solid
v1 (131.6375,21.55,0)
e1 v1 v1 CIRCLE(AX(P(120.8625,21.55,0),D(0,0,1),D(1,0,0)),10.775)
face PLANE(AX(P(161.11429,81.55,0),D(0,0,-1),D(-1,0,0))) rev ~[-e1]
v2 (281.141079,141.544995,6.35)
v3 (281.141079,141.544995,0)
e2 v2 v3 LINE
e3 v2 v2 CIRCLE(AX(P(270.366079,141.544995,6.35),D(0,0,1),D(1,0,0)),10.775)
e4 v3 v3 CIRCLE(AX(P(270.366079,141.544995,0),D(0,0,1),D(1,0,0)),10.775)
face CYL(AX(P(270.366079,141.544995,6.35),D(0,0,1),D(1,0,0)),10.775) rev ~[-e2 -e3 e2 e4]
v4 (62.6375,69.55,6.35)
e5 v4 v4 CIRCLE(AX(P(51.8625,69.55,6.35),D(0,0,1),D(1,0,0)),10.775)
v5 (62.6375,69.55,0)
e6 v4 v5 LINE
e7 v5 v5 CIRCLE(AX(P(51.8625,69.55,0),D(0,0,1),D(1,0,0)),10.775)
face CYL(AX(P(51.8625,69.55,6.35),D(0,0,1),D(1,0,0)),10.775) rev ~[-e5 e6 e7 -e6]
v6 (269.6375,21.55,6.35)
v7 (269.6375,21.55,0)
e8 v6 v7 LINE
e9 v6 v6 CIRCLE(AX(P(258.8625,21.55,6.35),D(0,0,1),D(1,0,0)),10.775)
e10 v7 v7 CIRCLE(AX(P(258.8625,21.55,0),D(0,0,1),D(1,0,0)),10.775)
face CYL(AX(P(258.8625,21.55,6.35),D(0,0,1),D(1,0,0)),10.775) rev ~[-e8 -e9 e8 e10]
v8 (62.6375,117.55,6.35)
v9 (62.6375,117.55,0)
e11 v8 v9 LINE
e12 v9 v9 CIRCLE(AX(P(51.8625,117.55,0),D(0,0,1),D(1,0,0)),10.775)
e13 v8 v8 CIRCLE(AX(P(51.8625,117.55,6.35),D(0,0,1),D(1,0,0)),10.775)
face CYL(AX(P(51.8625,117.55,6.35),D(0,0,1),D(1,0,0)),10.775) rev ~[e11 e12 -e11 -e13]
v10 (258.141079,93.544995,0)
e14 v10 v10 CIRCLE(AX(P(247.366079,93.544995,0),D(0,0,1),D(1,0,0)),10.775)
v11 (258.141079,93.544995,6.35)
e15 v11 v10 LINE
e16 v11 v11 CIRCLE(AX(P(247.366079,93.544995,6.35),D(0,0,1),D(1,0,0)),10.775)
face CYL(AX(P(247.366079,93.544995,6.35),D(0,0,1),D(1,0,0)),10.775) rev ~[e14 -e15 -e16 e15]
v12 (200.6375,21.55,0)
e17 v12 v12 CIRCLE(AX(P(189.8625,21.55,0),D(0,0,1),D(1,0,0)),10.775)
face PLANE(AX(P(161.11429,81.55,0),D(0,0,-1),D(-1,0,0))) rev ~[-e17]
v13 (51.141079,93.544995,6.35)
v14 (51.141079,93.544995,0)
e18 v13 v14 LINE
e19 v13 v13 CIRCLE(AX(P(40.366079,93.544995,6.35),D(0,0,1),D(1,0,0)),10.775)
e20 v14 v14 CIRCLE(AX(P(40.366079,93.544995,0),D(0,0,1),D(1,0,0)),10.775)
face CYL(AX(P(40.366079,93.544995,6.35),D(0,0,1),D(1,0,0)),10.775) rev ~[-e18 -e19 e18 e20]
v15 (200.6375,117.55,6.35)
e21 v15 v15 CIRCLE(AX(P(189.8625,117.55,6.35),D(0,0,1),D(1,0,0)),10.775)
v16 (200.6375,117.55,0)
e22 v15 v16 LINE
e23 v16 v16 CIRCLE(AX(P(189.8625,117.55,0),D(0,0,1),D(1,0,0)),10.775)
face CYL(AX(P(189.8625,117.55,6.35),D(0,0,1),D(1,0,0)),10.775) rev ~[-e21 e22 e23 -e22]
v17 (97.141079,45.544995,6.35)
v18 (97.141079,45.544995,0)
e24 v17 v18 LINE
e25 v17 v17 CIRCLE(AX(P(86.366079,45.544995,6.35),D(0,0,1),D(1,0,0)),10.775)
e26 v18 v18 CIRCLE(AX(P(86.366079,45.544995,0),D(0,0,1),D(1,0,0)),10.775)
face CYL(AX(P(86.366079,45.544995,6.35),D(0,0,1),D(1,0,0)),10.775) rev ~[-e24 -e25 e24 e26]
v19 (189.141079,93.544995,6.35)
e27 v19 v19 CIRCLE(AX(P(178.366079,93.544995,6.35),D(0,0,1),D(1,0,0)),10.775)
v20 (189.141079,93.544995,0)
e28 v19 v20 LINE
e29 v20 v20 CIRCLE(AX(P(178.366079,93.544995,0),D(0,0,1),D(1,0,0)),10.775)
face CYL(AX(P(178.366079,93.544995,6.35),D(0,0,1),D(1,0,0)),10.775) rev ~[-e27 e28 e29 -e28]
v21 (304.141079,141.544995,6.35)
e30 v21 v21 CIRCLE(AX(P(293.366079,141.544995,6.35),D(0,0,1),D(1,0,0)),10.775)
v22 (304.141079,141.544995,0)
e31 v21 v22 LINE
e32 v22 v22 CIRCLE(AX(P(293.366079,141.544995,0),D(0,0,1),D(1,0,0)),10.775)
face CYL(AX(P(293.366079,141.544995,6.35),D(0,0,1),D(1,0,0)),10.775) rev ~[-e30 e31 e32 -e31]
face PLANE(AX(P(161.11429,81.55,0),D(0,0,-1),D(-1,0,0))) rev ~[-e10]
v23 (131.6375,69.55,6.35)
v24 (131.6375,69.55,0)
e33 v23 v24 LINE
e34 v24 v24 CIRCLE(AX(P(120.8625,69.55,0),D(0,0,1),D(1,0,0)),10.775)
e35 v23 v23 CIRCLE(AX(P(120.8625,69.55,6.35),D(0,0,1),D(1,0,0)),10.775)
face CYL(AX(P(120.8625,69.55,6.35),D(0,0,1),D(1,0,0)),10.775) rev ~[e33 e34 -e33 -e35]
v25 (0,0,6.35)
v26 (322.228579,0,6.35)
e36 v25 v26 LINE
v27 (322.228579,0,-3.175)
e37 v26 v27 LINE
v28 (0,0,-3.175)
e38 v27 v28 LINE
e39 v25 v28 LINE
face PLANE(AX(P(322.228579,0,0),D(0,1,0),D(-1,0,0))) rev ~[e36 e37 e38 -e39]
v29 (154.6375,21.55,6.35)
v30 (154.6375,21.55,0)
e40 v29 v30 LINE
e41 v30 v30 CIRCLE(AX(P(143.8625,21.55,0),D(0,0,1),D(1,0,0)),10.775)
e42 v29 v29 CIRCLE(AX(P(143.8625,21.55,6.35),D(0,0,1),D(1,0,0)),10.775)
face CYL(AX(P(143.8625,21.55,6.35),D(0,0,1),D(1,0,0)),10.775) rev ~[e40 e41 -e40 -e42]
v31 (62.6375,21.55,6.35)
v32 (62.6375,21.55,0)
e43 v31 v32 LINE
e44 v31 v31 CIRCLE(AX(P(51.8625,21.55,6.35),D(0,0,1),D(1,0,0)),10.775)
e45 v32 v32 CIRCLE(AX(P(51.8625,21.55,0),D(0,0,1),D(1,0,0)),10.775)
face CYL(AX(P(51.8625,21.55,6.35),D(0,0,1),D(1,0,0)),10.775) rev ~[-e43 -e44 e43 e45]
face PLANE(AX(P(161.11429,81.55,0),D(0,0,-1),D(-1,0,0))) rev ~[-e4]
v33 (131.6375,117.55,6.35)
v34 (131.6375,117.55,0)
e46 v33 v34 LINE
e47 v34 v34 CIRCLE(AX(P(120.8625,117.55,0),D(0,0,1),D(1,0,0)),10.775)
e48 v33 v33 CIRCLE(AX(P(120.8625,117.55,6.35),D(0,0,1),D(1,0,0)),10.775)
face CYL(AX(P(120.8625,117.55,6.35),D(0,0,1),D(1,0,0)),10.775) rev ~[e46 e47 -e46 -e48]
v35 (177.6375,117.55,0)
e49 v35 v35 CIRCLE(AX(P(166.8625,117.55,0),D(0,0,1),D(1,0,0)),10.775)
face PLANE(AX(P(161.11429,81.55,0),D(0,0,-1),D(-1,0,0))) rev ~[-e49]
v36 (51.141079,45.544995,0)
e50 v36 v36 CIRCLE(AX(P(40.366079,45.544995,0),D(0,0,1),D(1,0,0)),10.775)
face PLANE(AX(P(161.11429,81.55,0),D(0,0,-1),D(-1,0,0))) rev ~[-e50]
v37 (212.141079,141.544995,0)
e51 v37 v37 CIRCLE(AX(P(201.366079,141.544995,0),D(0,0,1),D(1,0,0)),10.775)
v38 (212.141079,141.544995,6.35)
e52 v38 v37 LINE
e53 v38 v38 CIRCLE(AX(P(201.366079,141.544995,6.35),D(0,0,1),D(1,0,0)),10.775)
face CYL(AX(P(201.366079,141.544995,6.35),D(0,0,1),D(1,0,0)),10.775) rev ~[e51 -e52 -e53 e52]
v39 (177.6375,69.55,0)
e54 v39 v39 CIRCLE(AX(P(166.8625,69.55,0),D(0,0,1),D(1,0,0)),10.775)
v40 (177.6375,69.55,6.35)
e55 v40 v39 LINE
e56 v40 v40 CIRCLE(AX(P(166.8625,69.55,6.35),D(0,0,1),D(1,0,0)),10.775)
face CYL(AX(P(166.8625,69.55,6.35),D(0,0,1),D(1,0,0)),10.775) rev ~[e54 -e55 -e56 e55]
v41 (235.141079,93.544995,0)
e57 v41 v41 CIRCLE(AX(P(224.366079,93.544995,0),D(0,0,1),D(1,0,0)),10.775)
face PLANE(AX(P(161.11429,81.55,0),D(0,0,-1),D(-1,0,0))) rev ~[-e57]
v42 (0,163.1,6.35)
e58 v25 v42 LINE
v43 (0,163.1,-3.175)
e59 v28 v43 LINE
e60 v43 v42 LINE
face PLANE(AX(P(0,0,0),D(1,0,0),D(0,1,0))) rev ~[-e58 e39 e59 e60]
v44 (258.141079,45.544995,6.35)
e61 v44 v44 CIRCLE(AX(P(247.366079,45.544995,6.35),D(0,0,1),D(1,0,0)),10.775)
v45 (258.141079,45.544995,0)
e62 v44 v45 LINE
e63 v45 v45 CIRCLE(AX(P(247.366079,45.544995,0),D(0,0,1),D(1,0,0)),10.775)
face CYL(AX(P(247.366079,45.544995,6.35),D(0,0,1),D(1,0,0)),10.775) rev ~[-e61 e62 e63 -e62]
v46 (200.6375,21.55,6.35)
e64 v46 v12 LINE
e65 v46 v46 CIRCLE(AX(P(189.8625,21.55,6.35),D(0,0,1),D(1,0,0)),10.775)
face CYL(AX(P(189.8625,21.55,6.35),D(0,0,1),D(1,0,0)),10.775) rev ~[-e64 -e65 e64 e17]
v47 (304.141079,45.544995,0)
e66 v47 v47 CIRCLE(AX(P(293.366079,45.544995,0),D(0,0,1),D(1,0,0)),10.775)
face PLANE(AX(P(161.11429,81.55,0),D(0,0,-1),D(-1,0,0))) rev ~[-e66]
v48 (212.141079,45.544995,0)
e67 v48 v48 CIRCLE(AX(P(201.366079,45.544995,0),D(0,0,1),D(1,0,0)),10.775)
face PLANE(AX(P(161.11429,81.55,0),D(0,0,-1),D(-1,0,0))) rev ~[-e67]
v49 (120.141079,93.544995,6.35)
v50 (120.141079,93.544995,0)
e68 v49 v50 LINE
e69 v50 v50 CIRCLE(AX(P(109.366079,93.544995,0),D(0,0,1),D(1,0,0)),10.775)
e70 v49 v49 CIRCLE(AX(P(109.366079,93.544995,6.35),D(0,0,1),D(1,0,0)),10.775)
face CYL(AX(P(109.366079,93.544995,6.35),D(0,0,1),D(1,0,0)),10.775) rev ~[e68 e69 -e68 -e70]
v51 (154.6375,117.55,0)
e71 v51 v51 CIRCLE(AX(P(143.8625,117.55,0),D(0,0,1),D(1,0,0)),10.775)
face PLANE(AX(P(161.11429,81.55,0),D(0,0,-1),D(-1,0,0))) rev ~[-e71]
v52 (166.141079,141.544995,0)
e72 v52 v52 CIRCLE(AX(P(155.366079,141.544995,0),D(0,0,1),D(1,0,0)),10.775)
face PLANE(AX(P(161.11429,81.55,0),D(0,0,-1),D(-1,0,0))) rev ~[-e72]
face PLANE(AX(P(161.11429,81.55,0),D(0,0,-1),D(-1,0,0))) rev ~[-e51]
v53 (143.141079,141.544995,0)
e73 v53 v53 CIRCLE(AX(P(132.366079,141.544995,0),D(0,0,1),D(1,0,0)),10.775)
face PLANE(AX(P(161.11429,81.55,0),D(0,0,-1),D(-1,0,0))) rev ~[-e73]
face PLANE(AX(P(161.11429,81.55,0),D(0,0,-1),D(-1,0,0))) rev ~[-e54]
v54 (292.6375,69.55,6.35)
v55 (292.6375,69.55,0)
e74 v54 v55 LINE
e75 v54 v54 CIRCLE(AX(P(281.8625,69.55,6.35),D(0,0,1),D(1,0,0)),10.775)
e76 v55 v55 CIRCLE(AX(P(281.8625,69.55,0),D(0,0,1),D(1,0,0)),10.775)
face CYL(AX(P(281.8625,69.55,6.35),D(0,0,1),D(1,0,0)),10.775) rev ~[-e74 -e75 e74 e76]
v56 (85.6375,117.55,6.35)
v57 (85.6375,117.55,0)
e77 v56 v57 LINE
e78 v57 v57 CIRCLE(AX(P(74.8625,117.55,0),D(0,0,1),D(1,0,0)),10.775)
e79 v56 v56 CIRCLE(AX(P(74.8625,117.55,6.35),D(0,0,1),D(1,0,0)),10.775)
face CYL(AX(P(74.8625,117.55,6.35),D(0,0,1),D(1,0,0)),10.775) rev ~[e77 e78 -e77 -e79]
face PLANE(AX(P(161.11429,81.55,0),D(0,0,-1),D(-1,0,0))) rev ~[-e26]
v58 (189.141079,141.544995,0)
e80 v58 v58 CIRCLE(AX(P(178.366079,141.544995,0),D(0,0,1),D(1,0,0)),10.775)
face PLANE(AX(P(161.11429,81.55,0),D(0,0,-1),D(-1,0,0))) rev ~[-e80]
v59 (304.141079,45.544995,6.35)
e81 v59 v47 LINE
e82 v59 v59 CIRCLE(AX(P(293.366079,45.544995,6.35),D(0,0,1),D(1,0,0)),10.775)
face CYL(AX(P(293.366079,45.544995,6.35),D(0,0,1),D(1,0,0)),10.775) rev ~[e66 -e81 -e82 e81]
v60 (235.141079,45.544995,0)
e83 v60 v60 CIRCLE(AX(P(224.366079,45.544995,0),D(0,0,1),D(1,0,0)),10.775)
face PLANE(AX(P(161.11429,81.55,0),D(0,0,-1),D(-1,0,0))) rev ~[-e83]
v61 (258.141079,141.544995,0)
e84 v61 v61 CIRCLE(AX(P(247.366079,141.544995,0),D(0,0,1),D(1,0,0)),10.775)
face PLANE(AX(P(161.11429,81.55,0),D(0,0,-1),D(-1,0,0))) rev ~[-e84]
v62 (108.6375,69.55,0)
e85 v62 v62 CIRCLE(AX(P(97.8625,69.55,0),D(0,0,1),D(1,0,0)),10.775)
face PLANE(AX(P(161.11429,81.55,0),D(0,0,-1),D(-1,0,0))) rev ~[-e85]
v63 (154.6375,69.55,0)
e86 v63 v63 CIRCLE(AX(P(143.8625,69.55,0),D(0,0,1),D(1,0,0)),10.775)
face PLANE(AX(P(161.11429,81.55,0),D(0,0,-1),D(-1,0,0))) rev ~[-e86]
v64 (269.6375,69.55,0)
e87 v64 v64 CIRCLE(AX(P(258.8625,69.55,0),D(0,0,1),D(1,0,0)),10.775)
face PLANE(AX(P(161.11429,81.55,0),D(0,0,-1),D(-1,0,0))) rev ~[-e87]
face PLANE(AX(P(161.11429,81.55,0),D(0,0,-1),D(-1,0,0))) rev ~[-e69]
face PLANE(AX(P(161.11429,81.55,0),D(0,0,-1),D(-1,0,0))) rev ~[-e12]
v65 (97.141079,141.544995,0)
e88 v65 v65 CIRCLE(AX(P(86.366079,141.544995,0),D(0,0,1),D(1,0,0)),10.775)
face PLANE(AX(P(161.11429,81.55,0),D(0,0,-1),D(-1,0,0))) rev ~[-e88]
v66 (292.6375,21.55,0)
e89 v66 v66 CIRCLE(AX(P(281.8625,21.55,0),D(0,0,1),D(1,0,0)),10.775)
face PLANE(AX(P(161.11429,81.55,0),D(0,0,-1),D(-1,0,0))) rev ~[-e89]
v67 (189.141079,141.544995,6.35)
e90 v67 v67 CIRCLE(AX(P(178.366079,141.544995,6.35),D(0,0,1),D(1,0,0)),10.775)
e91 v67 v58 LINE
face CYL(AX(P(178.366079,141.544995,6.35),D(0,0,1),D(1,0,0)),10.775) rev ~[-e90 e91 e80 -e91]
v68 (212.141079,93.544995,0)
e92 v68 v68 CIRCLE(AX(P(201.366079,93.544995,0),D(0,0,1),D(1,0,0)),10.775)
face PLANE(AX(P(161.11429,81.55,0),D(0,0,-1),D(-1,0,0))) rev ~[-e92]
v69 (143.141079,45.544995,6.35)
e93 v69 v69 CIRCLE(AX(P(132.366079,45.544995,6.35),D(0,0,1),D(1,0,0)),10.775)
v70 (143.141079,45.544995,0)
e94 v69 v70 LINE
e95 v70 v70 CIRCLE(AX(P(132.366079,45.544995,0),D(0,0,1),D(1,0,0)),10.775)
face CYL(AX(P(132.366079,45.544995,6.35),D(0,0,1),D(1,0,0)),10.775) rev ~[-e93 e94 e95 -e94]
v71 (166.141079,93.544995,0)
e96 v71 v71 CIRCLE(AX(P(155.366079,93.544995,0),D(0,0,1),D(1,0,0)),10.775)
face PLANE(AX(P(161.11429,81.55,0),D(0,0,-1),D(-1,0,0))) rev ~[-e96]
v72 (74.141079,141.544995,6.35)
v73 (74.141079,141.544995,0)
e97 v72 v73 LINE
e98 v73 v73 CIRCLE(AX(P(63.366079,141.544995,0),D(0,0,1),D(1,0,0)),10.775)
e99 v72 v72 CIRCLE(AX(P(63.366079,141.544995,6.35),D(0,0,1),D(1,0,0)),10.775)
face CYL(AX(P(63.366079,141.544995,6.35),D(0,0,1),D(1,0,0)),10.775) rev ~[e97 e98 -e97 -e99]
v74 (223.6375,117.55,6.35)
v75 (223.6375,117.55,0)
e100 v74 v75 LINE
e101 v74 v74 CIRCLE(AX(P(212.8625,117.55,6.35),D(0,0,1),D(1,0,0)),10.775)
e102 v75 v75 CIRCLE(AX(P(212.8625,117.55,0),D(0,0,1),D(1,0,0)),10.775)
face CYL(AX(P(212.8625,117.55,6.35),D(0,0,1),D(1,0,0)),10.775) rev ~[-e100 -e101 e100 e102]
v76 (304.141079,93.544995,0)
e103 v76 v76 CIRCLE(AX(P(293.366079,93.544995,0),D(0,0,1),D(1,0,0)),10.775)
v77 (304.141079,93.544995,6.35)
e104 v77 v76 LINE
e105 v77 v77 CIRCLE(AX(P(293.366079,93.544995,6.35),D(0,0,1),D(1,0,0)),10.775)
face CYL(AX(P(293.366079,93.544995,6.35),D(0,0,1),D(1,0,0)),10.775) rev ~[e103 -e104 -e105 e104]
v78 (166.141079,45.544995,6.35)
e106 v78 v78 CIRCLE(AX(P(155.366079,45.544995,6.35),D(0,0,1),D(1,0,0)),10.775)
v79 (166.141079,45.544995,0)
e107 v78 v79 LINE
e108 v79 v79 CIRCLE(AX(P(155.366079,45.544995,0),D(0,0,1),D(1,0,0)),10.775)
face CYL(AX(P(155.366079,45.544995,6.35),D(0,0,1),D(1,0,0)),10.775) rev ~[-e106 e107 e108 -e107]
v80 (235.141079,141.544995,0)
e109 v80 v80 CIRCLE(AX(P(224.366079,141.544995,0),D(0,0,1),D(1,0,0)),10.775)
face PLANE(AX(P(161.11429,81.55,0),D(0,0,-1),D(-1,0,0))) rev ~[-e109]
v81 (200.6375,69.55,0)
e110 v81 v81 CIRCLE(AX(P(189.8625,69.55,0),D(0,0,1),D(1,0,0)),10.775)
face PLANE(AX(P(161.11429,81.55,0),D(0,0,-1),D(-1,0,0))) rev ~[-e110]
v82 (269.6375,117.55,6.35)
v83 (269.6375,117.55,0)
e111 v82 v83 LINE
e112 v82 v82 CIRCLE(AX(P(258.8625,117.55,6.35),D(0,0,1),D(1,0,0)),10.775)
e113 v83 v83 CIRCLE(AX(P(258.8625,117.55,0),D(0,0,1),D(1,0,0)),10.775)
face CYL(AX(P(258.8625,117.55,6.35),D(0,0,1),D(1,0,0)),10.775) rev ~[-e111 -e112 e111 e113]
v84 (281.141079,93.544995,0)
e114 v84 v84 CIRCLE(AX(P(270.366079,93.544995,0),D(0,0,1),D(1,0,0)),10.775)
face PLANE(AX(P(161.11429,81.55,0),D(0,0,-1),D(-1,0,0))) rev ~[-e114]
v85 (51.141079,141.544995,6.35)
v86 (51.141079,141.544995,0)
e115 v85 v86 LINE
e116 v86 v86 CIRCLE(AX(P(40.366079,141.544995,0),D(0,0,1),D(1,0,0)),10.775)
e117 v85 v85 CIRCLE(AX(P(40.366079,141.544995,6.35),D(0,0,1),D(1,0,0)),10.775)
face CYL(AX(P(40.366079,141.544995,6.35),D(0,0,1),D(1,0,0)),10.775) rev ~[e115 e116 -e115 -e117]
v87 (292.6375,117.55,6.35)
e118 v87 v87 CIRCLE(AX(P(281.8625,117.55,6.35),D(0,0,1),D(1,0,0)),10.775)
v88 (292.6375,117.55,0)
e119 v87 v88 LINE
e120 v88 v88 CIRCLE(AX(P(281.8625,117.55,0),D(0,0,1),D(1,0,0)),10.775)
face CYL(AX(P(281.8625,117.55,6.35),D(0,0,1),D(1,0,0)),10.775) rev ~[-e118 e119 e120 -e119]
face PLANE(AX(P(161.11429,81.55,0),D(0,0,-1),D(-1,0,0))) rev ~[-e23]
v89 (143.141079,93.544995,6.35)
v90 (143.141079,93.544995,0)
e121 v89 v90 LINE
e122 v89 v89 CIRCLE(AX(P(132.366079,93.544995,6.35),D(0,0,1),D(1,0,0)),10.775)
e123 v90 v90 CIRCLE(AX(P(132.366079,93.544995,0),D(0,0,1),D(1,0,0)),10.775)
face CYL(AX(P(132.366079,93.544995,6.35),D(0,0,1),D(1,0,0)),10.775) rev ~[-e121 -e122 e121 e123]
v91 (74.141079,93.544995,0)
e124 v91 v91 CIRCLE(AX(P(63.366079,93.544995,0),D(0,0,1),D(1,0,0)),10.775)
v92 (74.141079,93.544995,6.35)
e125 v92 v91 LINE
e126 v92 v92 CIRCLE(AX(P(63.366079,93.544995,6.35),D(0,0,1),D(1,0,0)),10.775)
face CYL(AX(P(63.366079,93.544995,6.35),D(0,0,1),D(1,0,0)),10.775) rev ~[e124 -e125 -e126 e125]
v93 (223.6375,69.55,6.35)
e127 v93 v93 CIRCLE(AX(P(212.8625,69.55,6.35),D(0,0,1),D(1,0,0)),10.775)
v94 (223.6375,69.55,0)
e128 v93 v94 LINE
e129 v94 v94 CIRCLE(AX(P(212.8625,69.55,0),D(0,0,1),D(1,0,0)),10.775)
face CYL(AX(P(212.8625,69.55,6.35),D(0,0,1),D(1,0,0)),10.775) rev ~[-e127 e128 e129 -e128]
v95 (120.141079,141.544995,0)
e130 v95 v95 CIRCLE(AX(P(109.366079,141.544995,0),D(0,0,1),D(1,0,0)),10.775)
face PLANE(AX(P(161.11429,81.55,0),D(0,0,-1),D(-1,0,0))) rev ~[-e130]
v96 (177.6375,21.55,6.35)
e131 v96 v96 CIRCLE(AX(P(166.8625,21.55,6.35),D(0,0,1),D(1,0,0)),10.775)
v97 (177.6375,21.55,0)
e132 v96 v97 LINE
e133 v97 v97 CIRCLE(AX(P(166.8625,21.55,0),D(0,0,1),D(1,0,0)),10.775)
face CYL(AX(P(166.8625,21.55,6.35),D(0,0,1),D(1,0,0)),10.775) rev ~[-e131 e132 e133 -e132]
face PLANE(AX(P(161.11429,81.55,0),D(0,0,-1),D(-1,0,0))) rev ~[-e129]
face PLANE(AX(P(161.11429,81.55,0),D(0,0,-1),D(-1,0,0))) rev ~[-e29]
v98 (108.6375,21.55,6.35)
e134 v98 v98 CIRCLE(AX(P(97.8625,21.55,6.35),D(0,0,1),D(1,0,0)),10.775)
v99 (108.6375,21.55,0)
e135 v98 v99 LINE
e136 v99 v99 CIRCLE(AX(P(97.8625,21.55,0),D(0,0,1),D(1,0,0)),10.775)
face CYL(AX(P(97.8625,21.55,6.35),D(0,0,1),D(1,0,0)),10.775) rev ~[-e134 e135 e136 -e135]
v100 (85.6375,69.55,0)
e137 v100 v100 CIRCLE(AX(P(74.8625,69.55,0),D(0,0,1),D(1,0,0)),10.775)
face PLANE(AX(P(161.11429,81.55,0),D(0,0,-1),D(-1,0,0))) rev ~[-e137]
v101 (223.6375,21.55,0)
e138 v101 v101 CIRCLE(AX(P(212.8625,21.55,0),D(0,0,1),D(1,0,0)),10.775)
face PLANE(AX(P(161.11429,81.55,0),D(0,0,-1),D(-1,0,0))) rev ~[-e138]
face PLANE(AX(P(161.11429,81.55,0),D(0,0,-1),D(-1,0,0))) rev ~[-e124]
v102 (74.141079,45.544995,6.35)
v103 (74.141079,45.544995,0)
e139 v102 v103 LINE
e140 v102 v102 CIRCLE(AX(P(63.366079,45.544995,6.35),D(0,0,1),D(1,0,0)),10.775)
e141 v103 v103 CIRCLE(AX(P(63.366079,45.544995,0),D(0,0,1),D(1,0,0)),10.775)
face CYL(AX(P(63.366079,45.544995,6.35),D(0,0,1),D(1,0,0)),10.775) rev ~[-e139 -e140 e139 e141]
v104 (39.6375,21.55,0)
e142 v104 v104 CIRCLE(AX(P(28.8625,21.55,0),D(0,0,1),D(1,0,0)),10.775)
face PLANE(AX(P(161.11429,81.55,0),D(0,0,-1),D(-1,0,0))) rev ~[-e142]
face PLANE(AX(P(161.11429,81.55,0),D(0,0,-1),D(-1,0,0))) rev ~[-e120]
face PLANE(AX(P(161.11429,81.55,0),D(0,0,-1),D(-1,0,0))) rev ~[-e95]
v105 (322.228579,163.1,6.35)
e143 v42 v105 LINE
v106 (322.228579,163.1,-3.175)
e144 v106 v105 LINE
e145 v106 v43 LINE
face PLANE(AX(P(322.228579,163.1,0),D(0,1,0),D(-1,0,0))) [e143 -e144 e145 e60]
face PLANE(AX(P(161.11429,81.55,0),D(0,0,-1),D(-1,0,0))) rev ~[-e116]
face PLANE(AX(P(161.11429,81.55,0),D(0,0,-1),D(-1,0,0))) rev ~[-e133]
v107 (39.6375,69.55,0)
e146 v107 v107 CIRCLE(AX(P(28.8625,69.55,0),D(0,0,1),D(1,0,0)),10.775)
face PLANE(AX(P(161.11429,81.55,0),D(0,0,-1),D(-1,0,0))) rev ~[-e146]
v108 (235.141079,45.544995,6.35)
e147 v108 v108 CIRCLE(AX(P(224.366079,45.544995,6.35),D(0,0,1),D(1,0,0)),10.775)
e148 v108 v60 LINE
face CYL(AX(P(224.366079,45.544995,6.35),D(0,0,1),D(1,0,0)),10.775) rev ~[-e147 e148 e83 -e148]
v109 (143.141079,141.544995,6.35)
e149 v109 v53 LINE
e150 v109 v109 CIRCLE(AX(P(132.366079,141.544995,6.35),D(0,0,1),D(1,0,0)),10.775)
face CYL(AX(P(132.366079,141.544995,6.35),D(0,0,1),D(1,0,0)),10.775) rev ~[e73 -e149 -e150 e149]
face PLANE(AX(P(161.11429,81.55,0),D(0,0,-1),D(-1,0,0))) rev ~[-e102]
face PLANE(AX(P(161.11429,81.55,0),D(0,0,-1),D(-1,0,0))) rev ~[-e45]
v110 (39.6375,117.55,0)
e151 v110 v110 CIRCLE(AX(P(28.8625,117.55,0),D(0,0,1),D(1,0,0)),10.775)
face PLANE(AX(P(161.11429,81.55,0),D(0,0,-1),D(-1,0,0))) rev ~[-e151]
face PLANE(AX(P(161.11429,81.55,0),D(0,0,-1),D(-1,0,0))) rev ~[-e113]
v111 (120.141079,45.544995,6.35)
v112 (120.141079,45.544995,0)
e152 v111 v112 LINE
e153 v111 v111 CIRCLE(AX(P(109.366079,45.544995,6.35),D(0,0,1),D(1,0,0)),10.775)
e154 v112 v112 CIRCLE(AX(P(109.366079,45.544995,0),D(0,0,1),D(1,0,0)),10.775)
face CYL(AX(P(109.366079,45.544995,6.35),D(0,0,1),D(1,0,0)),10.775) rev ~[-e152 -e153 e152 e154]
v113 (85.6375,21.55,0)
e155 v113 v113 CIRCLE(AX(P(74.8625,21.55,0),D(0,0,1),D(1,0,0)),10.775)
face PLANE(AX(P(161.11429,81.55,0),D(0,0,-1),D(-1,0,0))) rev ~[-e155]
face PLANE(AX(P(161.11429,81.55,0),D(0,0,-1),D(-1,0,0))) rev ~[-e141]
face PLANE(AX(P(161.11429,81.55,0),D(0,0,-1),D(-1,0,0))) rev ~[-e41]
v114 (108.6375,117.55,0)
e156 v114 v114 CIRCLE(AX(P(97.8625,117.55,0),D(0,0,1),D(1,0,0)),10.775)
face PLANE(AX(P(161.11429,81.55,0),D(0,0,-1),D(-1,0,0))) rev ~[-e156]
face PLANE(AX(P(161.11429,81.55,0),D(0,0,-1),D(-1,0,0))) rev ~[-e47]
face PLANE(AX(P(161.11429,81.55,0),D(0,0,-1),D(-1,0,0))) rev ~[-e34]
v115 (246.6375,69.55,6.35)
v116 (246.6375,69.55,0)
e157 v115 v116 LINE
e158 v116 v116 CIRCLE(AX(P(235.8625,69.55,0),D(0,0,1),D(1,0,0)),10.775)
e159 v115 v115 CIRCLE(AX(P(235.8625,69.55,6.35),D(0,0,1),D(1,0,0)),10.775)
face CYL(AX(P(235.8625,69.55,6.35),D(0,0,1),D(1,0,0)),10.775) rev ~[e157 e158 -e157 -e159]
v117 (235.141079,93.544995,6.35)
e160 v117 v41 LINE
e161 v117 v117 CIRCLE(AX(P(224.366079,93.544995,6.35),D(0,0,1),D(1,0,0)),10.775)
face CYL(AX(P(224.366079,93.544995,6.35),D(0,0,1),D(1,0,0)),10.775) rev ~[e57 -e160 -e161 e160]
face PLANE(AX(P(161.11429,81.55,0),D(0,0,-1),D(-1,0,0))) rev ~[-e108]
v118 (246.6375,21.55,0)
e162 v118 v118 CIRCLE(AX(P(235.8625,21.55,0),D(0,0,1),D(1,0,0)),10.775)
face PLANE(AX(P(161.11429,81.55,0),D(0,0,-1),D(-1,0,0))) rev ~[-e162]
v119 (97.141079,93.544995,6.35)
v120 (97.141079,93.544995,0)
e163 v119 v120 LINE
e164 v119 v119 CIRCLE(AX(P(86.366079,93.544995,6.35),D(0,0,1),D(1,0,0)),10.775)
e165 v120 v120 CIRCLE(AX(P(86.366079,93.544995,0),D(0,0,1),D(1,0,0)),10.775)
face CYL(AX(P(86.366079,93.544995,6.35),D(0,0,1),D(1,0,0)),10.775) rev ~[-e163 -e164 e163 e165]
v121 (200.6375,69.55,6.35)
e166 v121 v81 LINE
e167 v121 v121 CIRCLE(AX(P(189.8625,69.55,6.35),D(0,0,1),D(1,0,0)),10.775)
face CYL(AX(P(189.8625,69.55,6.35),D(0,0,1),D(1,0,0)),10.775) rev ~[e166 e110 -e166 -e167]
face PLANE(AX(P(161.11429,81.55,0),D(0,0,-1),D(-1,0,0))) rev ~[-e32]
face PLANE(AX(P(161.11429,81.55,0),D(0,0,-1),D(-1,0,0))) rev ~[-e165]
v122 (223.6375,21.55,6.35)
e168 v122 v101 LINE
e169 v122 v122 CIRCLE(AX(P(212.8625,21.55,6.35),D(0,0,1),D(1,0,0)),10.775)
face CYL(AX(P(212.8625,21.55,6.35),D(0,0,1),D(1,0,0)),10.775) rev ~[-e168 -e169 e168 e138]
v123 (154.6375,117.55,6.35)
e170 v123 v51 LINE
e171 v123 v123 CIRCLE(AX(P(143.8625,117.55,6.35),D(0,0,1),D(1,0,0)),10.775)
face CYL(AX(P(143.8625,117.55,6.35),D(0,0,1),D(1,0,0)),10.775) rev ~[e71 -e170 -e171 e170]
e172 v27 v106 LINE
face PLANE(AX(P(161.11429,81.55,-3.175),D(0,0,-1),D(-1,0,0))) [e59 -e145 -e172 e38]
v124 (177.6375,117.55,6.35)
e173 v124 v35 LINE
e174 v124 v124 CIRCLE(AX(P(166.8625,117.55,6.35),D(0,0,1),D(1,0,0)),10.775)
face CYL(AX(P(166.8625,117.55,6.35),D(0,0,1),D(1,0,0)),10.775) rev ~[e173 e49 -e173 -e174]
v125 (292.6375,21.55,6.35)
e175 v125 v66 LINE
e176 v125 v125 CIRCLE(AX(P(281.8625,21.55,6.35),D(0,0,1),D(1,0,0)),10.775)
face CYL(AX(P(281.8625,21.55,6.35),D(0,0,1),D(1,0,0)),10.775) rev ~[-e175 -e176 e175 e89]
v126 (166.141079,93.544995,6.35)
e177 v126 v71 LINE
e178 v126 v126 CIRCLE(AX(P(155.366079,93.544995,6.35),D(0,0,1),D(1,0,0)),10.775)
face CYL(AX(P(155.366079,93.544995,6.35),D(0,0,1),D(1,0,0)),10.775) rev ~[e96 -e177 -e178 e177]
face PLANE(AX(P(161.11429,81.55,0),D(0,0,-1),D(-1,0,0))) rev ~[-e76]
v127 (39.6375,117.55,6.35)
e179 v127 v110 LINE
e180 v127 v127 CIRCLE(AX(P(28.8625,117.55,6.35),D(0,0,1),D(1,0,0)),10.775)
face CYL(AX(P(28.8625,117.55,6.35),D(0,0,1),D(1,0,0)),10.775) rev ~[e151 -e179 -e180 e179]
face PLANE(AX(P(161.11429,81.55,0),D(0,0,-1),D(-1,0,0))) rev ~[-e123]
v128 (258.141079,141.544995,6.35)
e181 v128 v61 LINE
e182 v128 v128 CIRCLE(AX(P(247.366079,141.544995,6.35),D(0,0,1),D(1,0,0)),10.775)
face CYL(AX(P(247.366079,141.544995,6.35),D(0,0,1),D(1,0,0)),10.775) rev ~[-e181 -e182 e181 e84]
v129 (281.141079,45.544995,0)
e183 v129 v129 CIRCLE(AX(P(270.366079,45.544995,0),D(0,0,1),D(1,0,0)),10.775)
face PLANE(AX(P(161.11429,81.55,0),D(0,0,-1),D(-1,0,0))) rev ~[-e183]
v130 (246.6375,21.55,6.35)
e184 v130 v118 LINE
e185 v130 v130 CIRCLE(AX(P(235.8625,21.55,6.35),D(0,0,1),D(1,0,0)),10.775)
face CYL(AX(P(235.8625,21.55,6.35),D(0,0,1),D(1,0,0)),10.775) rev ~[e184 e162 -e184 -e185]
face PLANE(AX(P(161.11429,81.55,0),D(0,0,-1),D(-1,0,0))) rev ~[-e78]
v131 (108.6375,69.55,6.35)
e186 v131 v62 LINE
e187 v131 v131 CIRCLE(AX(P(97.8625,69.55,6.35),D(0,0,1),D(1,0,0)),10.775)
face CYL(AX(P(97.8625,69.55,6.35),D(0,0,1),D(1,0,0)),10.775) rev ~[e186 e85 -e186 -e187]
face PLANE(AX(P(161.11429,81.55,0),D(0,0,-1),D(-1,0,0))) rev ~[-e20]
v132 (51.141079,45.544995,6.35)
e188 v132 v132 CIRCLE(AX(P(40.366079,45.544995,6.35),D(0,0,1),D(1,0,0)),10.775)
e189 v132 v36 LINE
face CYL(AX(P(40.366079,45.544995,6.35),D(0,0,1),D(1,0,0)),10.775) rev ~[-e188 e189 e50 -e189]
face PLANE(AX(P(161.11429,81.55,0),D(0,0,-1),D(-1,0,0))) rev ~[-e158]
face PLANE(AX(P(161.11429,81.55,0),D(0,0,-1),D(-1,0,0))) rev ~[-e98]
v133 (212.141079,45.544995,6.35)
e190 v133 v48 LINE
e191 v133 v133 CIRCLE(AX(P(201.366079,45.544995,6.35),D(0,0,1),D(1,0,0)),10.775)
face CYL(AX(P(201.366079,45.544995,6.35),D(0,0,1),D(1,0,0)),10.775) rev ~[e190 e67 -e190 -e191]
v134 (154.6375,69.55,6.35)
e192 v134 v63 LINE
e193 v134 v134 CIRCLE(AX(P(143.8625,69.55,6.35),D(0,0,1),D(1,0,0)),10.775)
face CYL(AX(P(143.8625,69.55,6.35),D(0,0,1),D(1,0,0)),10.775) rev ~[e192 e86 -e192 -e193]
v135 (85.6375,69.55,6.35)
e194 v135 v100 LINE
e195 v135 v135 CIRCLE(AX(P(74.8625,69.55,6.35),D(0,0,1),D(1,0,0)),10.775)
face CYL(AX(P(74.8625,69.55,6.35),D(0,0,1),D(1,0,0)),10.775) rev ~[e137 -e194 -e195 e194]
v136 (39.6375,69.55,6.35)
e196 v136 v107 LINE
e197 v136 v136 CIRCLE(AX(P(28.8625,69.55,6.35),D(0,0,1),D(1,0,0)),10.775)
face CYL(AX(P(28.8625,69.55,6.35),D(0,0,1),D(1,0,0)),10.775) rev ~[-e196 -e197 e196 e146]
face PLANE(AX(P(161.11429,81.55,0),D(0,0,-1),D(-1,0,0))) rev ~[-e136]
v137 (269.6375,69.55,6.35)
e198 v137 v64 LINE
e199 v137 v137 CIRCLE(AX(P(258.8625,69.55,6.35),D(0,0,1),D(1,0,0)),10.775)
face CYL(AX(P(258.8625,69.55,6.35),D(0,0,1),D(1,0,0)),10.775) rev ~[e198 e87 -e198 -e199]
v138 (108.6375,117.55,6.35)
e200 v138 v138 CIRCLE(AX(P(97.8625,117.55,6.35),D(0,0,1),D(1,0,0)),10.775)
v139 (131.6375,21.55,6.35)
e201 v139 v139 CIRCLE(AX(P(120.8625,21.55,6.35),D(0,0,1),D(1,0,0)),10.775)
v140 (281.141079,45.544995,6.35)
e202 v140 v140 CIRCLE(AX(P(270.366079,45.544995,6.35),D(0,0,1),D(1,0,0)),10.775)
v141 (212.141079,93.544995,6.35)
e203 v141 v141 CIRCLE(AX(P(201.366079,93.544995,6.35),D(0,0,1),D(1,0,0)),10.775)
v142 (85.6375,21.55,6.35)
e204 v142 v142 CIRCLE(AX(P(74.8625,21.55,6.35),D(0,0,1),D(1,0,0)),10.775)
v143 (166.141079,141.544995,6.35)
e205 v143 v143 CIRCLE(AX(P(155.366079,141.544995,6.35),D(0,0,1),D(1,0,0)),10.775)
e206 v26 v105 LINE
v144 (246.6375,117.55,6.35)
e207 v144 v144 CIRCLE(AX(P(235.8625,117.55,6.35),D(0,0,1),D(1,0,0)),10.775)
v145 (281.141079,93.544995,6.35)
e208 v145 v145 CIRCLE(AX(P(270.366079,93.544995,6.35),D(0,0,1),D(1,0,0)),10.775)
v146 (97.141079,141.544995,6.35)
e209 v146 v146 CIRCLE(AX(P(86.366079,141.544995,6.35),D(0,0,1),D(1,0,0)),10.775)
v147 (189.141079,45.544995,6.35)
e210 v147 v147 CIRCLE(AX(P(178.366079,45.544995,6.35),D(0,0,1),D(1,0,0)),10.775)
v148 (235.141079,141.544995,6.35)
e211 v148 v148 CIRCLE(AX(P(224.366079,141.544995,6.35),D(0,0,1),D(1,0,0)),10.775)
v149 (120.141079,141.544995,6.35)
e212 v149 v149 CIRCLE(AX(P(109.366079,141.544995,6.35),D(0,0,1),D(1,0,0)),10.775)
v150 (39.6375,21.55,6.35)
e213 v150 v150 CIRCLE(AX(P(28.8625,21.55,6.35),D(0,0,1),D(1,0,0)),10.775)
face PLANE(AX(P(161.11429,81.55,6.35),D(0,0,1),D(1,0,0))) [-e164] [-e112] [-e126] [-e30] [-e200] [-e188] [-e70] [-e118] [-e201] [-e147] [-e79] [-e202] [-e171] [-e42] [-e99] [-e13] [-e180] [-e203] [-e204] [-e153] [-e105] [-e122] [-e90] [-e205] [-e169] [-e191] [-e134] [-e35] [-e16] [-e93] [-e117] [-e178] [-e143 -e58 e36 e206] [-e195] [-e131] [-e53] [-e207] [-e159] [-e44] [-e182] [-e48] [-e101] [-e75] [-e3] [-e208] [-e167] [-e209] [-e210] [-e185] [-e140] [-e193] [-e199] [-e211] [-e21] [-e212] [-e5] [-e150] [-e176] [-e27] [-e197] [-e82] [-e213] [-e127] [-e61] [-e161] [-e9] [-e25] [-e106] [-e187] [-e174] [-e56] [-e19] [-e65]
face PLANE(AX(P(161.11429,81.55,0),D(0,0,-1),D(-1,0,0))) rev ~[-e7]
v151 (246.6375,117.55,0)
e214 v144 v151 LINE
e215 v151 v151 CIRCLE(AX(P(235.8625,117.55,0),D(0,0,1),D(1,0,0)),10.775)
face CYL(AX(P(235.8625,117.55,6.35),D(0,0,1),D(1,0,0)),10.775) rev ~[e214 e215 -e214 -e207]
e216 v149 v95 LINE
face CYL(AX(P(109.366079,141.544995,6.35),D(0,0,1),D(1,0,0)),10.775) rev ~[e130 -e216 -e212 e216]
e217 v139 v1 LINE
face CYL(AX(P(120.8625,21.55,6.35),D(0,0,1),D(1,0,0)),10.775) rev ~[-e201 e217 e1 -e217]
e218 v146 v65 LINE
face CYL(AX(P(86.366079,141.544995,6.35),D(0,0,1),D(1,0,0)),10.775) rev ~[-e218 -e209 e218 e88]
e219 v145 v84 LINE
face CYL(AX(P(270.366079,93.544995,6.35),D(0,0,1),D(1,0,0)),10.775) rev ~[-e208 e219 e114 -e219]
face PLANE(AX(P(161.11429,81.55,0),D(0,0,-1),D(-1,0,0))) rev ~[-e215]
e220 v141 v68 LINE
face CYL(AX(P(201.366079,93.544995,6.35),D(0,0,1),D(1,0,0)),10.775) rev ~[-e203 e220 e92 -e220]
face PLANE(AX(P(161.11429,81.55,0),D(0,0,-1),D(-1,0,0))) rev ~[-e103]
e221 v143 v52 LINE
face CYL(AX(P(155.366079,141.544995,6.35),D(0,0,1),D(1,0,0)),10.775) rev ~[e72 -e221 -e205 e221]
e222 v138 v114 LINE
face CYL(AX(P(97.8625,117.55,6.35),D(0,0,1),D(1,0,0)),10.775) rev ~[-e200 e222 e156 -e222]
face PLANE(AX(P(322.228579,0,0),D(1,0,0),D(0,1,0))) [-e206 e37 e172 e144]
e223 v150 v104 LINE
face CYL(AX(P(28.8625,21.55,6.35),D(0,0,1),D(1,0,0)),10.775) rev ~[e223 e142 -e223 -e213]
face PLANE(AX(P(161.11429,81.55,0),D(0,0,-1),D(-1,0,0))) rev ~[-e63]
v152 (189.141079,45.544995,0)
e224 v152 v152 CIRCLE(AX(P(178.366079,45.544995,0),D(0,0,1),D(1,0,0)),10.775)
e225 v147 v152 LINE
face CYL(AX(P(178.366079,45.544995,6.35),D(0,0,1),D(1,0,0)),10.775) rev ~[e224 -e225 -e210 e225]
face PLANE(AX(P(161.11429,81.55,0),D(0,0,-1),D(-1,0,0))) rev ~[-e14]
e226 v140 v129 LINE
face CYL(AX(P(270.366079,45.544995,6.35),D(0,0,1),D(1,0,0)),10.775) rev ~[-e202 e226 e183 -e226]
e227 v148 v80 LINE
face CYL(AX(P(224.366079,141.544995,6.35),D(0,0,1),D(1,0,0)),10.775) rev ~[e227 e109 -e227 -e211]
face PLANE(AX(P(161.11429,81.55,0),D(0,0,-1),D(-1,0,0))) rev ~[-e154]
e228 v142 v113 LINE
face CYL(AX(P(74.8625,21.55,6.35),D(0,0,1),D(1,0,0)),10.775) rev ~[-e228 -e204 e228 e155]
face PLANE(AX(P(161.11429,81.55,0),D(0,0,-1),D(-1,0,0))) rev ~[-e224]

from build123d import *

# Parameters (mm, degrees)
SKETCH1_W           = 322.22857931
SKETCH1_H           = 163.1
BOSS_EXTRUDE1_DEPTH = 6.35
SKETCH2_R           = 10.775
CUT_EXTRUDE1_DEPTH  = 362.210727726
SKETCH4_W           = 322.22857931
SKETCH4_H           = 163.1
BOSS_EXTRUDE3_DEPTH = 3.175


with BuildPart() as part:
    # Sketch1 → Boss-Extrude1 (new body)
    with BuildSketch(Plane.XY):
        with Locations((161.114289655, 81.55)):
            Rectangle(SKETCH1_W, SKETCH1_H)
    extrude(amount=BOSS_EXTRUDE1_DEPTH)

    # Sketch2 → Cut-Extrude1 (cut, through all)
    with BuildSketch(Plane.XY.offset(6.35)):
        with Locations((28.8625, 21.55)):
            Circle(SKETCH2_R)
        with Locations((40.366079306, 45.544994544)):
            Circle(SKETCH2_R)
        with Locations((51.8625, 21.55)):
            Circle(SKETCH2_R)
        with Locations((74.8625, 21.55)):
            Circle(SKETCH2_R)
        with Locations((97.8625, 21.55)):
            Circle(SKETCH2_R)
        with Locations((120.8625, 21.55)):
            Circle(SKETCH2_R)
        with Locations((143.8625, 21.55)):
            Circle(SKETCH2_R)
        with Locations((166.8625, 21.55)):
            Circle(SKETCH2_R)
        with Locations((189.8625, 21.55)):
            Circle(SKETCH2_R)
        with Locations((212.8625, 21.55)):
            Circle(SKETCH2_R)
        with Locations((235.8625, 21.55)):
            Circle(SKETCH2_R)
        with Locations((258.8625, 21.55)):
            Circle(SKETCH2_R)
        with Locations((281.8625, 21.55)):
            Circle(SKETCH2_R)
        with Locations((293.366079306, 45.544994544)):
            Circle(SKETCH2_R)
        with Locations((293.366079306, 93.544994544)):
            Circle(SKETCH2_R)
        with Locations((293.366079306, 141.544994544)):
            Circle(SKETCH2_R)
        with Locations((28.8625, 117.55)):
            Circle(SKETCH2_R)
        with Locations((28.8625, 69.55)):
            Circle(SKETCH2_R)
        with Locations((63.366079306, 45.544994544)):
            Circle(SKETCH2_R)
        with Locations((86.366079306, 45.544994544)):
            Circle(SKETCH2_R)
        with Locations((109.366079306, 45.544994544)):
            Circle(SKETCH2_R)
        with Locations((132.366079306, 45.544994544)):
            Circle(SKETCH2_R)
        with Locations((155.366079306, 45.544994544)):
            Circle(SKETCH2_R)
        with Locations((178.366079306, 45.544994544)):
            Circle(SKETCH2_R)
        with Locations((201.366079306, 45.544994544)):
            Circle(SKETCH2_R)
        with Locations((224.366079306, 45.544994544)):
            Circle(SKETCH2_R)
        with Locations((247.366079306, 45.544994544)):
            Circle(SKETCH2_R)
        with Locations((270.366079306, 45.544994544)):
            Circle(SKETCH2_R)
        with Locations((51.8625, 69.55)):
            Circle(SKETCH2_R)
        with Locations((74.8625, 69.55)):
            Circle(SKETCH2_R)
        with Locations((97.8625, 69.55)):
            Circle(SKETCH2_R)
        with Locations((120.8625, 69.55)):
            Circle(SKETCH2_R)
        with Locations((143.8625, 69.55)):
            Circle(SKETCH2_R)
        with Locations((166.8625, 69.55)):
            Circle(SKETCH2_R)
        with Locations((189.8625, 69.55)):
            Circle(SKETCH2_R)
        with Locations((212.8625, 69.55)):
            Circle(SKETCH2_R)
        with Locations((235.8625, 69.55)):
            Circle(SKETCH2_R)
        with Locations((258.8625, 69.55)):
            Circle(SKETCH2_R)
        with Locations((281.8625, 69.55)):
            Circle(SKETCH2_R)
        with Locations((51.8625, 117.55)):
            Circle(SKETCH2_R)
        with Locations((74.8625, 117.55)):
            Circle(SKETCH2_R)
        with Locations((97.8625, 117.55)):
            Circle(SKETCH2_R)
        with Locations((120.8625, 117.55)):
            Circle(SKETCH2_R)
        with Locations((143.8625, 117.55)):
            Circle(SKETCH2_R)
        with Locations((166.8625, 117.55)):
            Circle(SKETCH2_R)
        with Locations((189.8625, 117.55)):
            Circle(SKETCH2_R)
        with Locations((212.8625, 117.55)):
            Circle(SKETCH2_R)
        with Locations((235.8625, 117.55)):
            Circle(SKETCH2_R)
        with Locations((258.8625, 117.55)):
            Circle(SKETCH2_R)
        with Locations((281.8625, 117.55)):
            Circle(SKETCH2_R)
        with Locations((40.366079306, 93.544994544)):
            Circle(SKETCH2_R)
        with Locations((63.366079306, 93.544994544)):
            Circle(SKETCH2_R)
        with Locations((86.366079306, 93.544994544)):
            Circle(SKETCH2_R)
        with Locations((109.366079306, 93.544994544)):
            Circle(SKETCH2_R)
        with Locations((132.366079306, 93.544994544)):
            Circle(SKETCH2_R)
        with Locations((155.366079306, 93.544994544)):
            Circle(SKETCH2_R)
        with Locations((178.366079306, 93.544994544)):
            Circle(SKETCH2_R)
        with Locations((201.366079306, 93.544994544)):
            Circle(SKETCH2_R)
        with Locations((224.366079306, 93.544994544)):
            Circle(SKETCH2_R)
        with Locations((247.366079306, 93.544994544)):
            Circle(SKETCH2_R)
        with Locations((270.366079306, 93.544994544)):
            Circle(SKETCH2_R)
        with Locations((40.366079306, 141.544994544)):
            Circle(SKETCH2_R)
        with Locations((63.366079306, 141.544994544)):
            Circle(SKETCH2_R)
        with Locations((86.366079306, 141.544994544)):
            Circle(SKETCH2_R)
        with Locations((109.366079306, 141.544994544)):
            Circle(SKETCH2_R)
        with Locations((132.366079306, 141.544994544)):
            Circle(SKETCH2_R)
        with Locations((155.366079306, 141.544994544)):
            Circle(SKETCH2_R)
        with Locations((178.366079306, 141.544994544)):
            Circle(SKETCH2_R)
        with Locations((201.366079306, 141.544994544)):
            Circle(SKETCH2_R)
        with Locations((224.366079306, 141.544994544)):
            Circle(SKETCH2_R)
        with Locations((247.366079306, 141.544994544)):
            Circle(SKETCH2_R)
        with Locations((270.366079306, 141.544994544)):
            Circle(SKETCH2_R)
    extrude(amount=-CUT_EXTRUDE1_DEPTH, mode=Mode.SUBTRACT)

    # Sketch4 → Boss-Extrude3 (add)
    with BuildSketch(Plane(origin=(0, 0, 0), x_dir=(-1, 0, 0), z_dir=(0, 0, -1))):
        with Locations((-161.114289655, 81.55)):
            Rectangle(SKETCH4_W, SKETCH4_H)
    extrude(amount=BOSS_EXTRUDE3_DEPTH)


solid = part.part
